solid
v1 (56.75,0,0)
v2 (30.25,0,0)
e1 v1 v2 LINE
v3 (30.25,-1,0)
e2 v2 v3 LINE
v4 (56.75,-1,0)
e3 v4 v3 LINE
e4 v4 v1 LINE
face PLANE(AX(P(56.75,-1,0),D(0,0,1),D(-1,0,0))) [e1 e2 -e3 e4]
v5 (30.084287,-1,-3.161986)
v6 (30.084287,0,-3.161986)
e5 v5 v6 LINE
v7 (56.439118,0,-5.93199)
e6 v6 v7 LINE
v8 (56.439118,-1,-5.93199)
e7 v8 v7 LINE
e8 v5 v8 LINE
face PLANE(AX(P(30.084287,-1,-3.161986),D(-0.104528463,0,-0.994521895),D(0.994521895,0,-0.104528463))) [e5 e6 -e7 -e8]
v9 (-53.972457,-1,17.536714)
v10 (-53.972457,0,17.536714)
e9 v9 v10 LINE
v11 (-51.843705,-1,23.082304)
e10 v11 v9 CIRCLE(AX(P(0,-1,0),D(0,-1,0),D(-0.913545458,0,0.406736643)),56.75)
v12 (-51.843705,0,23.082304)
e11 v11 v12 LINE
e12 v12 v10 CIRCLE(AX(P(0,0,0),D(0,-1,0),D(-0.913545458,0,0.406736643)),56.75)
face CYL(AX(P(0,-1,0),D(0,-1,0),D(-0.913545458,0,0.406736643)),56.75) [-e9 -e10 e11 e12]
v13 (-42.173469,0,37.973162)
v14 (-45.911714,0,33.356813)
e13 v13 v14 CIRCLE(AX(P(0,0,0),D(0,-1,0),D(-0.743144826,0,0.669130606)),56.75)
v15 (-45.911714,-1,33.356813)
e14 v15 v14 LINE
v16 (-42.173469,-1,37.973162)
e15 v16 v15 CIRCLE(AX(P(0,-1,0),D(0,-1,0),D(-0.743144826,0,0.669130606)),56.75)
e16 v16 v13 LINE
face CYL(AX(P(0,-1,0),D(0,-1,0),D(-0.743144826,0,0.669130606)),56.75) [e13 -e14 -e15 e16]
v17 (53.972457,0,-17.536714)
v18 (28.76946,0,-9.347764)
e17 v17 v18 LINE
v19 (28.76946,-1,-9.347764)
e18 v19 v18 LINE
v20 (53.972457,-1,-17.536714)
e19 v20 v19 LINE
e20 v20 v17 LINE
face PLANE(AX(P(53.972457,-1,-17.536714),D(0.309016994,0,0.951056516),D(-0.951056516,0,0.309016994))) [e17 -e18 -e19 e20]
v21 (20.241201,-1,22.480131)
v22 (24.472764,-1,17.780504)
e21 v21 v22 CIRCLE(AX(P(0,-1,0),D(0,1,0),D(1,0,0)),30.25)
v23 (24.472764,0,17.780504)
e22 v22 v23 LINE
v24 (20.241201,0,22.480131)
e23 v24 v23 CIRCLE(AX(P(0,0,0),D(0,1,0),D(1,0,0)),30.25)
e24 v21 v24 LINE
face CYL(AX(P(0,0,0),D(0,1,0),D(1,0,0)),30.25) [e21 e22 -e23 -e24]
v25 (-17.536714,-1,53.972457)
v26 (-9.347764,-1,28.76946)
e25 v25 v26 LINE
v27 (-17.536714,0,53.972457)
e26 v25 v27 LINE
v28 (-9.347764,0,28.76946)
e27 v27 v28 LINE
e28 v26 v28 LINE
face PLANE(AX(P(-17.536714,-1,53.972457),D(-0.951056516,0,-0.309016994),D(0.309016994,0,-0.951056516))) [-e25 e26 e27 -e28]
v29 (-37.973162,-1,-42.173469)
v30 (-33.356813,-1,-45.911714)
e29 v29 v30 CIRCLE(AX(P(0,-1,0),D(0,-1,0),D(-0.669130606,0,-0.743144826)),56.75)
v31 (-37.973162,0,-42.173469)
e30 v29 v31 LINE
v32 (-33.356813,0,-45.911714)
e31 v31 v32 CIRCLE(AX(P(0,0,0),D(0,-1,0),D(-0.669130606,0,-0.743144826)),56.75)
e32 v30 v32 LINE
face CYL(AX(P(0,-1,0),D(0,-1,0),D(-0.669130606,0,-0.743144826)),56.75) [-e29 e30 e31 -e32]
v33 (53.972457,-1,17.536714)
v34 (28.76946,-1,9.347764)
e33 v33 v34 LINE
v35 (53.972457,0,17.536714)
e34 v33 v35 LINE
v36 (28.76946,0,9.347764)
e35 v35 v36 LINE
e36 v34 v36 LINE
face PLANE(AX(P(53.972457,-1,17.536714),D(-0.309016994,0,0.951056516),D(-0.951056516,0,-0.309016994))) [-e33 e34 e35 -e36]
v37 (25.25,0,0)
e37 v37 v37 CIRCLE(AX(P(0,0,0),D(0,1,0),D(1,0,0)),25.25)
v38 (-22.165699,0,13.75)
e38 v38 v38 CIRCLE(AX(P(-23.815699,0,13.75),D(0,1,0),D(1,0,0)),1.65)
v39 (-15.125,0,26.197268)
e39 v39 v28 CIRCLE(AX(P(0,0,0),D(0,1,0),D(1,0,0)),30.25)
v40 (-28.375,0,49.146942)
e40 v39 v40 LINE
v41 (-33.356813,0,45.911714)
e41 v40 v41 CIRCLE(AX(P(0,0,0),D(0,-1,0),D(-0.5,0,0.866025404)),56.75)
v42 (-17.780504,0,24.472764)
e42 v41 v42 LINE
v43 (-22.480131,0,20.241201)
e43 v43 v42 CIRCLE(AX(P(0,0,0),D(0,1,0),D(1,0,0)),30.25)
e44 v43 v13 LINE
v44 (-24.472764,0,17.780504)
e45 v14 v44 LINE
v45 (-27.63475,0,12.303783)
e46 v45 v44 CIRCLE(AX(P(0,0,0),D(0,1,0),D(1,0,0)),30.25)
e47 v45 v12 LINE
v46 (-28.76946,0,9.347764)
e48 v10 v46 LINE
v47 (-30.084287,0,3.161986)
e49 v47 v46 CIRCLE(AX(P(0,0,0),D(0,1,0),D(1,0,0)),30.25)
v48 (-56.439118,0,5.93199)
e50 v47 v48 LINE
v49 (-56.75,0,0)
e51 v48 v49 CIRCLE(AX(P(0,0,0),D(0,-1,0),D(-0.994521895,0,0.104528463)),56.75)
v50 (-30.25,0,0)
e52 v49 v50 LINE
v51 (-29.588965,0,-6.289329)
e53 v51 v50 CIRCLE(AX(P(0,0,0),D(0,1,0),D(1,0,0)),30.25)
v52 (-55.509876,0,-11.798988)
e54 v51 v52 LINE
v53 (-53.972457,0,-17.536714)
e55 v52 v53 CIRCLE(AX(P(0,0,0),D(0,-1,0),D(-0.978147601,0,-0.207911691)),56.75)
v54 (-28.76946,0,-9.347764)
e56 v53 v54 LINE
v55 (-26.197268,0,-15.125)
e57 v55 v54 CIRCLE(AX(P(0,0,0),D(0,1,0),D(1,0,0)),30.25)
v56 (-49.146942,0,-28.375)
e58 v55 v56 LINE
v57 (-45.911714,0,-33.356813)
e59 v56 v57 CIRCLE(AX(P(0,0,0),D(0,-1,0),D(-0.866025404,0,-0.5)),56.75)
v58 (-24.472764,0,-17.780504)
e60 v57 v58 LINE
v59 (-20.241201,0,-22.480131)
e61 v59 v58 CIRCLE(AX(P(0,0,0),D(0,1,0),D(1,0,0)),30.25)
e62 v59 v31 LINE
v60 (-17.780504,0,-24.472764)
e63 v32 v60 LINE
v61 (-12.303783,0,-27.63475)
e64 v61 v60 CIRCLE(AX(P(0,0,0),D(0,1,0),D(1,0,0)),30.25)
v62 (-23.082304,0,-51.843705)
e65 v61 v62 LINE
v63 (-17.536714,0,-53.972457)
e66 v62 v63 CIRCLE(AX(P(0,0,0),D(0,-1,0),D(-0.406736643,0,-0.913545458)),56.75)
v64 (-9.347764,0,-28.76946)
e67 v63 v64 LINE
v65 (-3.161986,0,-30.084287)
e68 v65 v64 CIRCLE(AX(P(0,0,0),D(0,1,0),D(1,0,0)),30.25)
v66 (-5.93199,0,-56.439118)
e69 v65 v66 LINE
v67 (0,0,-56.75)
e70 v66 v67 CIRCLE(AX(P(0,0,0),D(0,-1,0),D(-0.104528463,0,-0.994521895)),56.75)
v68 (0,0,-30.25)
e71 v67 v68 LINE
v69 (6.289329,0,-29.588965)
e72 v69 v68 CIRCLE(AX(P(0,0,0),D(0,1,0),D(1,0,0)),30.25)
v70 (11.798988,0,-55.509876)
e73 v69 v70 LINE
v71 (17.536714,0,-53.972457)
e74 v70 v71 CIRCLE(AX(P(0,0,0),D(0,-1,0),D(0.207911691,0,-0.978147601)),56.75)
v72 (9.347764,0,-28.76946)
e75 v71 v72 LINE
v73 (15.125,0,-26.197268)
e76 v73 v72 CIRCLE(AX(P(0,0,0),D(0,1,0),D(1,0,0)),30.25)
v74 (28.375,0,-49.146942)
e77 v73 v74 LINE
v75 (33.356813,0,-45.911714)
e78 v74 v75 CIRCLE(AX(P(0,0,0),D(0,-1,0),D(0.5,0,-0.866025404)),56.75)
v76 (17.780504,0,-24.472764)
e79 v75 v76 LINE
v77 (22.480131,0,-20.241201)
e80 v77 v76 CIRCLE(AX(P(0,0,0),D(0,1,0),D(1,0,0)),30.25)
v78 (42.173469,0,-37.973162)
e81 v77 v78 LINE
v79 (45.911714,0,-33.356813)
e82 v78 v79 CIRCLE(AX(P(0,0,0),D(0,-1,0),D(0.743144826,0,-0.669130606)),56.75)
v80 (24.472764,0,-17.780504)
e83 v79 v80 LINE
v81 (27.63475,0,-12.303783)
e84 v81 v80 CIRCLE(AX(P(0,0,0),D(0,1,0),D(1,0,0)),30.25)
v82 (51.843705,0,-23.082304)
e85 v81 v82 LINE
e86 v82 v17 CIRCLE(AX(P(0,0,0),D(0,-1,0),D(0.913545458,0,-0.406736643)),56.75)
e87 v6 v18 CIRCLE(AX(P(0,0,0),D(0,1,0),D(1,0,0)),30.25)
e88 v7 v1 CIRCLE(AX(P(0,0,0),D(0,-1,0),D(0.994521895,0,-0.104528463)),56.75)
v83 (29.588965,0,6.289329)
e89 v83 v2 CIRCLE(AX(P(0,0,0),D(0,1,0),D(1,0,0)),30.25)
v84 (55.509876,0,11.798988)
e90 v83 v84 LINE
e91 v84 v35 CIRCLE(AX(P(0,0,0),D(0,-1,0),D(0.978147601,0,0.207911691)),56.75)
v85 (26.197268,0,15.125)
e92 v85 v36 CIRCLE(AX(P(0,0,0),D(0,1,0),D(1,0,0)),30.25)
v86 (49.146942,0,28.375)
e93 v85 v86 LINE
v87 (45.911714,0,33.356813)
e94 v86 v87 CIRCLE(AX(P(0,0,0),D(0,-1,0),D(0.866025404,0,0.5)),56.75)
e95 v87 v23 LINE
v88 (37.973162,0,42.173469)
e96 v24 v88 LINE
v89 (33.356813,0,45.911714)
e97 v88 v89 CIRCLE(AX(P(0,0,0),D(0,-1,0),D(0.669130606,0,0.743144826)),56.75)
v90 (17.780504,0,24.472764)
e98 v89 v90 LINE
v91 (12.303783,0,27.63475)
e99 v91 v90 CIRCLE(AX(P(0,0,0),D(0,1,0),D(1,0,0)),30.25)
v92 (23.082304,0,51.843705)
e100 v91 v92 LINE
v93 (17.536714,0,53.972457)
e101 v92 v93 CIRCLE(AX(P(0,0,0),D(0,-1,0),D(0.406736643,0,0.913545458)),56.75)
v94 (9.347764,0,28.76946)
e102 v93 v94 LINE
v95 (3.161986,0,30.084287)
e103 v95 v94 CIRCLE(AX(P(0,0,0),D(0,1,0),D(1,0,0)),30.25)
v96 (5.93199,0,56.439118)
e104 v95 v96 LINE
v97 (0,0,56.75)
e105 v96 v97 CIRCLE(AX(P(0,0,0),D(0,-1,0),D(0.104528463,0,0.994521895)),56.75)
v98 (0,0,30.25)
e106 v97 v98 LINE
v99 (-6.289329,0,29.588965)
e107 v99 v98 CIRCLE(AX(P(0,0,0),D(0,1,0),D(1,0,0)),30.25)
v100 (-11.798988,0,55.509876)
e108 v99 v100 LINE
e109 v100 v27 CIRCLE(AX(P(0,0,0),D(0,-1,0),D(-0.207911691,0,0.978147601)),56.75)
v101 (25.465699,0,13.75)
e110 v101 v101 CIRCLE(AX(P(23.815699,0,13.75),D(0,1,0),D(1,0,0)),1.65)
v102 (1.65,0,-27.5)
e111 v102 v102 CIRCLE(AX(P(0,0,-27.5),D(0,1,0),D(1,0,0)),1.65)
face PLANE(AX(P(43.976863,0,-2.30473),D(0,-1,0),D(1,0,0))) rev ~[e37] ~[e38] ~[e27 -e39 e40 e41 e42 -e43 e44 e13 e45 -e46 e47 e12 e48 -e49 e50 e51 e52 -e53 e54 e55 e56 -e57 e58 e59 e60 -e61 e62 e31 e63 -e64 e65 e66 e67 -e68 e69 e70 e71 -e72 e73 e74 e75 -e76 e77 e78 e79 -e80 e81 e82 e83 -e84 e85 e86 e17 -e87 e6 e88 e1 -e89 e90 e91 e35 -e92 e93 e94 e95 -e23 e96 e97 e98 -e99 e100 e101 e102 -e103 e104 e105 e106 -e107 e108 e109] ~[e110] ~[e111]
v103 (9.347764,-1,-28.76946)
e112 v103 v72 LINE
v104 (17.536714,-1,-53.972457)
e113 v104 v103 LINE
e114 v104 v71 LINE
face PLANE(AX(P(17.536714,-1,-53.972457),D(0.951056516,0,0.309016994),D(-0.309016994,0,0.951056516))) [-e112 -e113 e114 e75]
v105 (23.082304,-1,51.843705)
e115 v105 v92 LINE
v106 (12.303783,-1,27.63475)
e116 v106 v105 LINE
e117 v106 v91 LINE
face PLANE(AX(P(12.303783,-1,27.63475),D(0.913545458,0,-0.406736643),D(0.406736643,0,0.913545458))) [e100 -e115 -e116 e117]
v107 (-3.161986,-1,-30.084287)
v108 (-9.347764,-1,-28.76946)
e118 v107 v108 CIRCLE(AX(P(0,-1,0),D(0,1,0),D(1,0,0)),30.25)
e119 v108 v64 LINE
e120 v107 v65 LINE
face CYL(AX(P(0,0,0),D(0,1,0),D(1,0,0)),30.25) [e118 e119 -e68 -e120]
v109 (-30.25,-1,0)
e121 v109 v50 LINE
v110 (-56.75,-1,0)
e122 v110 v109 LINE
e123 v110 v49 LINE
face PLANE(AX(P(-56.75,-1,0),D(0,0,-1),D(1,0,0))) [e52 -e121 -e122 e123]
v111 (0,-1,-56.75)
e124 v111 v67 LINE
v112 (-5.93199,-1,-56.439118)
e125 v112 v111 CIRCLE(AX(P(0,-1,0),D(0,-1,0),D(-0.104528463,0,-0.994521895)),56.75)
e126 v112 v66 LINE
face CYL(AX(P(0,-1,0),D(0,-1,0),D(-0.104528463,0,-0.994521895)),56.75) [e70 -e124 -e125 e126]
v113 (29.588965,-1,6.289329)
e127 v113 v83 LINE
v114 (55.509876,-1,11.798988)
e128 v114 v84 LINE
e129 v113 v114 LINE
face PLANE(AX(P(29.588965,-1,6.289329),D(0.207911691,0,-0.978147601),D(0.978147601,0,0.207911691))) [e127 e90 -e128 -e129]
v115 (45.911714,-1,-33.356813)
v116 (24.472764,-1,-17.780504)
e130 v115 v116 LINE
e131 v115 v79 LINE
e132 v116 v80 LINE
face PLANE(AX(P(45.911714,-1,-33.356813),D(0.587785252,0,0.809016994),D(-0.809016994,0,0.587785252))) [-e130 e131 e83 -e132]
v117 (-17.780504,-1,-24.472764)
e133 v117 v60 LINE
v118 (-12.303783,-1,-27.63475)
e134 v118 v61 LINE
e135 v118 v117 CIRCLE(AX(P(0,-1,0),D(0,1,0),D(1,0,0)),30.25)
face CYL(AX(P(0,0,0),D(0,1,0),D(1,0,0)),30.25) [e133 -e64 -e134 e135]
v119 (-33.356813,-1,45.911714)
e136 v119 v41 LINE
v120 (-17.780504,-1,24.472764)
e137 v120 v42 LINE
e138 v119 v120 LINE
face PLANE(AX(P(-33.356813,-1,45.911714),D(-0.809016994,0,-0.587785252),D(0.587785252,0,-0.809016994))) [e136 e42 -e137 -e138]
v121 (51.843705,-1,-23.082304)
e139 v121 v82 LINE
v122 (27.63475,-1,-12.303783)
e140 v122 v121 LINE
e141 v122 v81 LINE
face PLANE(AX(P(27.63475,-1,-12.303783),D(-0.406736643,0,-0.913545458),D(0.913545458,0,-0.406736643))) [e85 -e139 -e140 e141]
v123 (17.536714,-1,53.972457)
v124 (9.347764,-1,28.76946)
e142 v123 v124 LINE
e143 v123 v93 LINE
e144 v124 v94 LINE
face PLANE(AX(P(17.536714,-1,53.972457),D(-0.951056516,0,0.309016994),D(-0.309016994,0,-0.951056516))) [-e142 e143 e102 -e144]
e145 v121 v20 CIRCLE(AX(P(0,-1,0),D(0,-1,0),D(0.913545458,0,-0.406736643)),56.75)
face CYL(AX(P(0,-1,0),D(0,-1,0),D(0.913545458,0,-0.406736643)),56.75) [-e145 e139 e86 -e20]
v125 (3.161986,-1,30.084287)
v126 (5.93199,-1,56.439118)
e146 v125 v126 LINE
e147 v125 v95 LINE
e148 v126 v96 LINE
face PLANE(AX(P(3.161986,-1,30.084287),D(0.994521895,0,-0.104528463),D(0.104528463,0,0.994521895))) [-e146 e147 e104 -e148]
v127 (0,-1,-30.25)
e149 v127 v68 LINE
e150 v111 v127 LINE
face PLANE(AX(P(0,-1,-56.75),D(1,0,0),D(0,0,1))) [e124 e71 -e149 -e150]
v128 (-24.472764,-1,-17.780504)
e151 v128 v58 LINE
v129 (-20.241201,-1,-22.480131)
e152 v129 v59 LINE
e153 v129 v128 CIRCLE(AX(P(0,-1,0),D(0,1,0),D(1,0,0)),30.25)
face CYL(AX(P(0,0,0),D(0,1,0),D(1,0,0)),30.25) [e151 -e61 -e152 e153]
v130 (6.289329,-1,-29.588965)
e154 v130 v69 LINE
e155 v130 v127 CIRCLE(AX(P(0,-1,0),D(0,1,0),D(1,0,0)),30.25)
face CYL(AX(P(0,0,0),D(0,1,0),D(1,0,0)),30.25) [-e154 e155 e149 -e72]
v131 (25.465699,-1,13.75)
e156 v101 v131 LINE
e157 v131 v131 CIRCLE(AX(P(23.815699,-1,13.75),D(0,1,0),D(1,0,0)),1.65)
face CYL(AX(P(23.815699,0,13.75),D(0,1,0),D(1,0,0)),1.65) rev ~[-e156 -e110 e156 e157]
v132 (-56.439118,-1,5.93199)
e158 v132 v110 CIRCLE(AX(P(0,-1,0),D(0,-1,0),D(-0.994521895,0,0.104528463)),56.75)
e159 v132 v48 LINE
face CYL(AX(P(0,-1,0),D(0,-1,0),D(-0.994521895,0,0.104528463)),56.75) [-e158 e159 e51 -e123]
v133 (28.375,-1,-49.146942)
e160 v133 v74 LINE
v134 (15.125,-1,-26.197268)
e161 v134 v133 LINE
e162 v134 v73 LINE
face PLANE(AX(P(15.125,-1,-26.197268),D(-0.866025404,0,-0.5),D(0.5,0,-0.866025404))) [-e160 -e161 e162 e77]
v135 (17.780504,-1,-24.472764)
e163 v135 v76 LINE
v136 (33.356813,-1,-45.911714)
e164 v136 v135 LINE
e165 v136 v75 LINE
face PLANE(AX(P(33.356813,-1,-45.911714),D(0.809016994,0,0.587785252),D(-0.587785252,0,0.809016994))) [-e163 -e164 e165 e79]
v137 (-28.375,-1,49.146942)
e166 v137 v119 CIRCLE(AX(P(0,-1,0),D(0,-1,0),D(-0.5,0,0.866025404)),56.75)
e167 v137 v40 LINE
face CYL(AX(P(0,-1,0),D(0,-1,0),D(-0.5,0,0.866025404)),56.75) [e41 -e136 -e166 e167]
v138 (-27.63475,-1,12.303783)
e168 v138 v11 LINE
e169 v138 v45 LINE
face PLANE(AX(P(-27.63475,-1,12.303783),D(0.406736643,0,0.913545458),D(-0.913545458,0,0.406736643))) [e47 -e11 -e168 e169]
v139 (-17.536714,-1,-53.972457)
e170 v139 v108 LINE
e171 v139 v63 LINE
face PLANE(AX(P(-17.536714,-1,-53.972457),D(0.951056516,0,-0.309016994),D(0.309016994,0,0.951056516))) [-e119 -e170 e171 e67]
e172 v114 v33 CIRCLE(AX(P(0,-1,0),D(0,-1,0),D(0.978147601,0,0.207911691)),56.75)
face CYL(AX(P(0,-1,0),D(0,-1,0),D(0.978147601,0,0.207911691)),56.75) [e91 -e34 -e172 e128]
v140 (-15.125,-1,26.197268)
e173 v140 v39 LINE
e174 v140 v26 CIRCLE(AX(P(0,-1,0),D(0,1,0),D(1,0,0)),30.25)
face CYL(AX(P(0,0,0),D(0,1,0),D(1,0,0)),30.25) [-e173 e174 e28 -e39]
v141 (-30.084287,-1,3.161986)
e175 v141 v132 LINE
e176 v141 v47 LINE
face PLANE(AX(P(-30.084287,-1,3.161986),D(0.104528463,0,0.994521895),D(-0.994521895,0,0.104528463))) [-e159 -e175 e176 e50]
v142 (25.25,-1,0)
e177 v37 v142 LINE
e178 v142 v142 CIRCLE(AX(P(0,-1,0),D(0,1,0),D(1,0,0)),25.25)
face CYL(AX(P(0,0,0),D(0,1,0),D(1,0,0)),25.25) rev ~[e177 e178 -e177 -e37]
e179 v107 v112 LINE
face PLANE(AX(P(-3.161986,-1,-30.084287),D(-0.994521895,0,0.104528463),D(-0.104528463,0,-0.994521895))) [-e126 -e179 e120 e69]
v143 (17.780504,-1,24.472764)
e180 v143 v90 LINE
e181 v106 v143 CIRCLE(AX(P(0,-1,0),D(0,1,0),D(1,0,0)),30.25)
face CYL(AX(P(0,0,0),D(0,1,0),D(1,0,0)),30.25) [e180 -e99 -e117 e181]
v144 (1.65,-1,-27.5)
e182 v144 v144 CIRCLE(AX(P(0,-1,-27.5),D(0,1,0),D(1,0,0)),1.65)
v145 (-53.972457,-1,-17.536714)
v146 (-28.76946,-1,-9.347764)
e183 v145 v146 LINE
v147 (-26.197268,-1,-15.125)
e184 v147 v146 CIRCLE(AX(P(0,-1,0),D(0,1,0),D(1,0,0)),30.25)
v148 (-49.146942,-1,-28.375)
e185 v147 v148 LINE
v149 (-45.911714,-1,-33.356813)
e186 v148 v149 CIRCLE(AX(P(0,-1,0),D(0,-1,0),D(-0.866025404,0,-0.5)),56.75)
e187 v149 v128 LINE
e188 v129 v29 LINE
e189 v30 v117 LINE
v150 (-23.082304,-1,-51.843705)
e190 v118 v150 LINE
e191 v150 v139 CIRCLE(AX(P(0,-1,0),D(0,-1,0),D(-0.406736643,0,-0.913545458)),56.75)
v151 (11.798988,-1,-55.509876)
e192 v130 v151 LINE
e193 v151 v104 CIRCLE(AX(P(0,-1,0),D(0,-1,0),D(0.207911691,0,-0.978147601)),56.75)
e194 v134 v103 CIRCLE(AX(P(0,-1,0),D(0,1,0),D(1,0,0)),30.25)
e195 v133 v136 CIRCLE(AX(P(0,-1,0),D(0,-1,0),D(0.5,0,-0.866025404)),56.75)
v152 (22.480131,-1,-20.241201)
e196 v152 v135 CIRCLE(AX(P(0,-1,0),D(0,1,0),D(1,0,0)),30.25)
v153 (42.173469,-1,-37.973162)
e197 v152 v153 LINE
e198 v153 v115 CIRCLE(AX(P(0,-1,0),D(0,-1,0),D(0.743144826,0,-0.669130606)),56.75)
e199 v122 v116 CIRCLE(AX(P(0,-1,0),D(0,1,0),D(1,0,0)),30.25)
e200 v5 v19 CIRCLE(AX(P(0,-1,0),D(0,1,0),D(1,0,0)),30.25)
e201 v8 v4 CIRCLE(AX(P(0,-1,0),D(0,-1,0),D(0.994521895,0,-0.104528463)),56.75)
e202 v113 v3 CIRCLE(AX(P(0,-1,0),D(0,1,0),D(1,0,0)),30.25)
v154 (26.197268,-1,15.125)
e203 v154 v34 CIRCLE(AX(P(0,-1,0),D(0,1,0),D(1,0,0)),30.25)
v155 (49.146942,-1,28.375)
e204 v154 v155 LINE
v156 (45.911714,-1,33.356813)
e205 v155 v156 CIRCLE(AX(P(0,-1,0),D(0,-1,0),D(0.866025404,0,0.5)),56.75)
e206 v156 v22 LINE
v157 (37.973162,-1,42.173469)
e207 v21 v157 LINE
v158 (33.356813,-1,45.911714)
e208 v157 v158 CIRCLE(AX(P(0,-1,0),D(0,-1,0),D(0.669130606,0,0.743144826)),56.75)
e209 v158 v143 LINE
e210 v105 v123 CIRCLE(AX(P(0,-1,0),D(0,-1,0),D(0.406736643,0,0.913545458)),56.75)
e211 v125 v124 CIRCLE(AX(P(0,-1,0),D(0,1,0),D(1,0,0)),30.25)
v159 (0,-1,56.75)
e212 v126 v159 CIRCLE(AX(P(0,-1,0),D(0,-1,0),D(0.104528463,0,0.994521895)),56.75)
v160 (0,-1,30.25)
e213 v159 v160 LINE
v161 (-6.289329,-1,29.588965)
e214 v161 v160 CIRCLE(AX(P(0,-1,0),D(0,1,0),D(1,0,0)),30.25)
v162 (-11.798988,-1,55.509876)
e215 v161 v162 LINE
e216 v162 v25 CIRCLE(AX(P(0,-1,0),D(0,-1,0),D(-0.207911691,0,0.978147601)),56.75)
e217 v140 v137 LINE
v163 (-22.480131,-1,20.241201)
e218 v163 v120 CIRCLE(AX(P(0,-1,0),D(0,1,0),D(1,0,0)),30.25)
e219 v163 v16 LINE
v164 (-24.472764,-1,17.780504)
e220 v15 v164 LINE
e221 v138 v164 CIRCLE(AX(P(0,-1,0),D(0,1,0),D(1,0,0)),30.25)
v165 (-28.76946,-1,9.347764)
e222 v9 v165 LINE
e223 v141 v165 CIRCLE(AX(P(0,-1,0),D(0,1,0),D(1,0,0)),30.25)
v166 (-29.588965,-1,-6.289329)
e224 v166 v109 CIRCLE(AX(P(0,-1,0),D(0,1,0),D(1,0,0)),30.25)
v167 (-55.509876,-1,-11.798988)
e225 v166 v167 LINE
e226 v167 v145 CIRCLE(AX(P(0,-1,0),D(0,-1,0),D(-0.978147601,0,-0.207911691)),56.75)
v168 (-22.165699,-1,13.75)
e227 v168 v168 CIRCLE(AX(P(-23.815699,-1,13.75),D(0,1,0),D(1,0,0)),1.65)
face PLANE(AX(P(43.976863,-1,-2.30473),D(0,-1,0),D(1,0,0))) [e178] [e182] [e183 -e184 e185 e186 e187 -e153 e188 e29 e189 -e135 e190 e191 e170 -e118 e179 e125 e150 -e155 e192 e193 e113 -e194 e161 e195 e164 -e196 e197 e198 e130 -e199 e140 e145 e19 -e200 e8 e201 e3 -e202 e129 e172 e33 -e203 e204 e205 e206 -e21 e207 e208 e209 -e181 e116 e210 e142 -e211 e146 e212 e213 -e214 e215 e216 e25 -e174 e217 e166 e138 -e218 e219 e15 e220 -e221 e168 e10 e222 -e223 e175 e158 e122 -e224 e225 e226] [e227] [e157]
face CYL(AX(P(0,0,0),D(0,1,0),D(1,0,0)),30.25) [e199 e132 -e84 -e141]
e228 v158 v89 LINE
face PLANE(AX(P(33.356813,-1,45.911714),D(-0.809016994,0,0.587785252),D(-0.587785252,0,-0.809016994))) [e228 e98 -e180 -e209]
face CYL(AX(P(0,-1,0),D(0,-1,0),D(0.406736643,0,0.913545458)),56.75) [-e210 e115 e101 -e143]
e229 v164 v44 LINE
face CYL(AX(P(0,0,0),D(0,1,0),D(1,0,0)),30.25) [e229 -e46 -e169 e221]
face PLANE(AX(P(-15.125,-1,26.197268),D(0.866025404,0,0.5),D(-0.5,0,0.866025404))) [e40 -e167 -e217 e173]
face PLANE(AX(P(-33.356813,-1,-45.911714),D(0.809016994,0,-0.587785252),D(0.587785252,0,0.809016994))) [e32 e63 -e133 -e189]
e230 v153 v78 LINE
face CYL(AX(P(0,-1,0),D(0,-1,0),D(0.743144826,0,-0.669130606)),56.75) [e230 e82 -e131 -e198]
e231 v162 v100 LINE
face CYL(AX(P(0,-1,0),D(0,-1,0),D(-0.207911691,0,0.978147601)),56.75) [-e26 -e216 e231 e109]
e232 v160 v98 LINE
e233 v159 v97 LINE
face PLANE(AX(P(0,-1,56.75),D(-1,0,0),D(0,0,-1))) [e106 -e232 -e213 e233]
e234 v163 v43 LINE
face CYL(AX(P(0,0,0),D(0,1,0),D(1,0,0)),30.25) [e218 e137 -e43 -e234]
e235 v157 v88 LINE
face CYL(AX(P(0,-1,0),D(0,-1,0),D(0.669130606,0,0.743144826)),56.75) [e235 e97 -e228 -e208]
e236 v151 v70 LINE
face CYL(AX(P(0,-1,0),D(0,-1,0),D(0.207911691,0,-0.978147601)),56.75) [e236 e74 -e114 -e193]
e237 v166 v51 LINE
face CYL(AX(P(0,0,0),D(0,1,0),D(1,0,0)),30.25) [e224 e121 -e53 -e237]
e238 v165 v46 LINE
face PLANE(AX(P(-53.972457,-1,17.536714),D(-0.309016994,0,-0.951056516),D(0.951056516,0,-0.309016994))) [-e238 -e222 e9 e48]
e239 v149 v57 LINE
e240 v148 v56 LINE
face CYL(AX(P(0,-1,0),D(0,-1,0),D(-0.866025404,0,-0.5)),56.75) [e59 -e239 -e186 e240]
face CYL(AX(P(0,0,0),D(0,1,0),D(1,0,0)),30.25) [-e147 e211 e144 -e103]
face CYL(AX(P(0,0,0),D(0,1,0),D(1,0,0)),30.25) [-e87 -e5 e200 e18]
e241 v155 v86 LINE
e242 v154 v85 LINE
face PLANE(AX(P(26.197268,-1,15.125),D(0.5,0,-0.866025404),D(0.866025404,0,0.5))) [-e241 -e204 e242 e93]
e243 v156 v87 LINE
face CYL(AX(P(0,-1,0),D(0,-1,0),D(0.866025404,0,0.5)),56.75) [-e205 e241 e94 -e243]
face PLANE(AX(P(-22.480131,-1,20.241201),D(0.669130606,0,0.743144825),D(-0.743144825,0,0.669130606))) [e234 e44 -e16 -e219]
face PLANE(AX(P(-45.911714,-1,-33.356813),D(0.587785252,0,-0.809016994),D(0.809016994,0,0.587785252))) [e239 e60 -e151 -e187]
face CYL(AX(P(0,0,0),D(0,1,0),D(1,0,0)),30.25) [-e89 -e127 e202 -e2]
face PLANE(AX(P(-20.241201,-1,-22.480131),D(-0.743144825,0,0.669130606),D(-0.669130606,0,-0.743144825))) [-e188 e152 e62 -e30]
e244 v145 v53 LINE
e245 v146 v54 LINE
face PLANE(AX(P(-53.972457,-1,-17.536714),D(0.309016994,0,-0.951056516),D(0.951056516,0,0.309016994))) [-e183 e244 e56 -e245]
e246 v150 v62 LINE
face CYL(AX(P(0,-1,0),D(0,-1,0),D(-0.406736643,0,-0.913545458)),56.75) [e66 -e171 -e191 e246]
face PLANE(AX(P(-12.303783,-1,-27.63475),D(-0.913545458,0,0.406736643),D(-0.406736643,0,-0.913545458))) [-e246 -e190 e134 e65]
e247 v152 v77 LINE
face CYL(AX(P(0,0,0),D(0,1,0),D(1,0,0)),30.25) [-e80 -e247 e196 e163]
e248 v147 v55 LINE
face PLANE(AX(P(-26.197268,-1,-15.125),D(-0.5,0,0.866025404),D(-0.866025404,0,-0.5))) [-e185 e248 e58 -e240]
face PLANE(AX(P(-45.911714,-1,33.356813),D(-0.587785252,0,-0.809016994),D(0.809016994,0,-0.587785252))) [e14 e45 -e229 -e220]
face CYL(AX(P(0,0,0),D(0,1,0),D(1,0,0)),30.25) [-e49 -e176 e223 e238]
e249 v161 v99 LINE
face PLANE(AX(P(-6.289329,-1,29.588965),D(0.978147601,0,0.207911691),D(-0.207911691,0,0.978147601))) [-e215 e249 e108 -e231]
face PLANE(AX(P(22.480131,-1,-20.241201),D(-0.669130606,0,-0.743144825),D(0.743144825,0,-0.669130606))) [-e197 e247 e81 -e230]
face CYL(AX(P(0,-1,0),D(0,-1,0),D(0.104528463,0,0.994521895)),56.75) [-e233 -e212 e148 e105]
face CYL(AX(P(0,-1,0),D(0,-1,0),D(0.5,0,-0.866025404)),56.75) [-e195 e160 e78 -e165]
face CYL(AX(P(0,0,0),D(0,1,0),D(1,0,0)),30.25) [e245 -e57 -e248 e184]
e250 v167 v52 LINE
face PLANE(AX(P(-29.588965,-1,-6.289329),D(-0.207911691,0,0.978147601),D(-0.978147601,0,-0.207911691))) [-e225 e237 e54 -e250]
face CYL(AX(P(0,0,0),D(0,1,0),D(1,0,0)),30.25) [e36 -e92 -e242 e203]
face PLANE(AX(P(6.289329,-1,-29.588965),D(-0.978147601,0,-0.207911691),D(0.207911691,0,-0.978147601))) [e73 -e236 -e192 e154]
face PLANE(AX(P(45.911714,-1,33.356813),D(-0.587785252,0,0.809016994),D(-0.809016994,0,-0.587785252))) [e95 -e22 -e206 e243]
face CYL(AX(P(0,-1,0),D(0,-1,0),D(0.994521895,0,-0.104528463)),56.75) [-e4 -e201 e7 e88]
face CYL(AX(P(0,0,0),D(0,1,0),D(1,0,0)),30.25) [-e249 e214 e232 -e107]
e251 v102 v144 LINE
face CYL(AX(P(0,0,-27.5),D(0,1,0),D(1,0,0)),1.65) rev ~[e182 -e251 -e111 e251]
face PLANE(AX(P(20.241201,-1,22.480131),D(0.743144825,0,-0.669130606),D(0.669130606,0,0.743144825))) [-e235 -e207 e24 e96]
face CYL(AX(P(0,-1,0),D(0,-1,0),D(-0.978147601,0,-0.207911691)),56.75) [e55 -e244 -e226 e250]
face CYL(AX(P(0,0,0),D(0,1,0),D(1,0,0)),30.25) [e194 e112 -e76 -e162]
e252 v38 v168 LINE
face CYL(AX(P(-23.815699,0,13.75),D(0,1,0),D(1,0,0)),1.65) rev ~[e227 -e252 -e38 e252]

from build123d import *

# Parameters (mm, degrees)
SKETCH1_R           = 30.25
SKETCH1_R_2         = 25.25
EXTRUDE_THIN1_DEPTH = 1
SKETCH2_R           = 1.65
CUT_EXTRUDE3_DEPTH  = 10
BOSS_EXTRUDE1_DEPTH = 1


with BuildPart() as part:
    # Sketch1 → Extrude-Thin1 (new body)
    with BuildSketch(Plane(origin=(0, 0, 0), x_dir=(1, 0, 0), z_dir=(0, 1, 0))):
        Circle(SKETCH1_R)
        Circle(SKETCH1_R_2, mode=Mode.SUBTRACT)
    extrude(amount=-EXTRUDE_THIN1_DEPTH)

    # Sketch2 → Cut-Extrude3 (cut)
    with BuildSketch(Plane(origin=(0, 0, 0), x_dir=(1, 0, 0), z_dir=(0, 1, 0))):
        with Locations((0, 27.5)):
            Circle(SKETCH2_R)
        with Locations((23.815698604, -13.75)):
            Circle(SKETCH2_R)
        with Locations((-23.815698604, -13.75)):
            Circle(SKETCH2_R)
    extrude(amount=-CUT_EXTRUDE3_DEPTH, mode=Mode.SUBTRACT)

    # Sketch5 → Boss-Extrude1 (add)
    with BuildSketch(Plane.XZ.offset(1)):
        with BuildLine():
            Line((0, 56.75), (0, 30.25))
            ThreePointArc((0, 30.25), (1.583162676, 30.208543426), (3.161986014, 30.084287335))
            Line((3.161986014, 30.084287335), (5.93199029, 56.439117562))
            ThreePointArc((5.93199029, 56.439117562), (2.970065517, 56.672226097), (0, 56.75))
        make_face()
        with BuildLine():
            Line((17.536714431, 53.9724573), (9.34776408, 28.769459618))
            ThreePointArc((9.34776408, 28.769459618), (10.840630474, 28.240807902), (12.303783453, 27.634750094))
            Line((12.303783453, 27.634750094), (23.082304495, 51.843704721))
            ThreePointArc((23.082304495, 51.843704721), (20.337381137, 52.980689204), (17.536714431, 53.9724573))
        make_face()
        with BuildLine():
            Line((33.356813068, 45.911714431), (17.780503882, 24.47276408))
            ThreePointArc((17.780503882, 24.47276408), (19.036941829, 23.508665334), (20.241200842, 22.480130971))
            Line((20.241200842, 22.480130971), (37.973161911, 42.173468846))
            ThreePointArc((37.973161911, 42.173468846), (35.713932192, 44.103033313), (33.356813068, 45.911714431))
        make_face()
        with BuildLine():
            Line((45.911714431, 33.356813068), (24.47276408, 17.780503882))
            ThreePointArc((24.47276408, 17.780503882), (25.36978468, 16.475330809), (26.197268464, 15.125))
            Line((26.197268464, 15.125), (49.146941665, 28.375))
            ThreePointArc((49.146941665, 28.375), (47.594554731, 30.908265237), (45.911714431, 33.356813068))
        make_face()
        with BuildLine():
            Line((53.9724573, 17.536714431), (28.769459618, 9.34776408))
            ThreePointArc((28.769459618, 9.34776408), (29.219256245, 7.829276114), (29.588964922, 6.289328647))
            Line((29.588964922, 6.289328647), (55.509876342, 11.798988454))
            ThreePointArc((55.509876342, 11.798988454), (54.816290642, 14.68798081), (53.9724573, 17.536714431))
        make_face()
        with BuildLine():
            Line((56.75, 0), (30.25, 0))
            ThreePointArc((30.25, 0), (30.208543426, -1.583162676), (30.084287335, -3.161986014))
            Line((30.084287335, -3.161986014), (56.439117562, -5.93199029))
            ThreePointArc((56.439117562, -5.93199029), (56.672226097, -2.970065517), (56.75, 0))
        make_face()
        with BuildLine():
            Line((53.9724573, -17.536714431), (28.769459618, -9.34776408))
            ThreePointArc((28.769459618, -9.34776408), (28.240807902, -10.840630474), (27.634750094, -12.303783453))
            Line((27.634750094, -12.303783453), (51.843704721, -23.082304495))
            ThreePointArc((51.843704721, -23.082304495), (52.980689204, -20.337381137), (53.9724573, -17.536714431))
        make_face()
        with BuildLine():
            Line((45.911714431, -33.356813068), (24.47276408, -17.780503882))
            ThreePointArc((24.47276408, -17.780503882), (23.508665334, -19.036941829), (22.480130971, -20.241200842))
            Line((22.480130971, -20.241200842), (42.173468846, -37.973161911))
            ThreePointArc((42.173468846, -37.973161911), (44.103033313, -35.713932192), (45.911714431, -33.356813068))
        make_face()
        with BuildLine():
            Line((33.356813068, -45.911714431), (17.780503882, -24.47276408))
            ThreePointArc((17.780503882, -24.47276408), (16.475330809, -25.36978468), (15.125, -26.197268464))
            Line((15.125, -26.197268464), (28.375, -49.146941665))
            ThreePointArc((28.375, -49.146941665), (30.908265237, -47.594554731), (33.356813068, -45.911714431))
        make_face()
        with BuildLine():
            Line((17.536714431, -53.9724573), (9.34776408, -28.769459618))
            ThreePointArc((9.34776408, -28.769459618), (7.829276114, -29.219256245), (6.289328647, -29.588964922))
            Line((6.289328647, -29.588964922), (11.798988454, -55.509876342))
            ThreePointArc((11.798988454, -55.509876342), (14.68798081, -54.816290642), (17.536714431, -53.9724573))
        make_face()
        with BuildLine():
            Line((0, -56.75), (0, -30.25))
            ThreePointArc((0, -30.25), (-1.583162676, -30.208543426), (-3.161986014, -30.084287335))
            Line((-3.161986014, -30.084287335), (-5.93199029, -56.439117562))
            ThreePointArc((-5.93199029, -56.439117562), (-2.970065517, -56.672226097), (0, -56.75))
        make_face()
        with BuildLine():
            Line((-17.536714431, -53.9724573), (-9.34776408, -28.769459618))
            ThreePointArc((-9.34776408, -28.769459618), (-10.840630474, -28.240807902), (-12.303783453, -27.634750094))
            Line((-12.303783453, -27.634750094), (-23.082304495, -51.843704721))
            ThreePointArc((-23.082304495, -51.843704721), (-20.337381137, -52.980689204), (-17.536714431, -53.9724573))
        make_face()
        with BuildLine():
            Line((-33.356813068, -45.911714431), (-17.780503882, -24.47276408))
            ThreePointArc((-17.780503882, -24.47276408), (-19.036941829, -23.508665334), (-20.241200842, -22.480130971))
            Line((-20.241200842, -22.480130971), (-37.973161911, -42.173468846))
            ThreePointArc((-37.973161911, -42.173468846), (-35.713932192, -44.103033313), (-33.356813068, -45.911714431))
        make_face()
        with BuildLine():
            Line((-45.911714431, -33.356813068), (-24.47276408, -17.780503882))
            ThreePointArc((-24.47276408, -17.780503882), (-25.36978468, -16.475330809), (-26.197268464, -15.125))
            Line((-26.197268464, -15.125), (-49.146941665, -28.375))
            ThreePointArc((-49.146941665, -28.375), (-47.594554731, -30.908265237), (-45.911714431, -33.356813068))
        make_face()
        with BuildLine():
            Line((-53.9724573, -17.536714431), (-28.769459618, -9.34776408))
            ThreePointArc((-28.769459618, -9.34776408), (-29.219256245, -7.829276114), (-29.588964922, -6.289328647))
            Line((-29.588964922, -6.289328647), (-55.509876342, -11.798988454))
            ThreePointArc((-55.509876342, -11.798988454), (-54.816290642, -14.68798081), (-53.9724573, -17.536714431))
        make_face()
        with BuildLine():
            Line((-56.75, 0), (-30.25, 0))
            ThreePointArc((-30.25, 0), (-30.208543426, 1.583162676), (-30.084287335, 3.161986014))
            Line((-30.084287335, 3.161986014), (-56.439117562, 5.93199029))
            ThreePointArc((-56.439117562, 5.93199029), (-56.672226097, 2.970065517), (-56.75, 0))
        make_face()
        with BuildLine():
            Line((-53.9724573, 17.536714431), (-28.769459618, 9.34776408))
            ThreePointArc((-28.769459618, 9.34776408), (-28.240807902, 10.840630474), (-27.634750094, 12.303783453))
            Line((-27.634750094, 12.303783453), (-51.843704721, 23.082304495))
            ThreePointArc((-51.843704721, 23.082304495), (-52.980689204, 20.337381137), (-53.9724573, 17.536714431))
        make_face()
        with BuildLine():
            Line((-45.911714431, 33.356813068), (-24.47276408, 17.780503882))
            ThreePointArc((-24.47276408, 17.780503882), (-23.508665334, 19.036941829), (-22.480130971, 20.241200842))
            Line((-22.480130971, 20.241200842), (-42.173468846, 37.973161911))
            ThreePointArc((-42.173468846, 37.973161911), (-44.103033313, 35.713932192), (-45.911714431, 33.356813068))
        make_face()
        with BuildLine():
            Line((-33.356813068, 45.911714431), (-17.780503882, 24.47276408))
            ThreePointArc((-17.780503882, 24.47276408), (-16.475330809, 25.36978468), (-15.125, 26.197268464))
            Line((-15.125, 26.197268464), (-28.375, 49.146941665))
            ThreePointArc((-28.375, 49.146941665), (-30.908265237, 47.594554731), (-33.356813068, 45.911714431))
        make_face()
        with BuildLine():
            Line((-17.536714431, 53.9724573), (-9.34776408, 28.769459618))
            ThreePointArc((-9.34776408, 28.769459618), (-7.829276114, 29.219256245), (-6.289328647, 29.588964922))
            Line((-6.289328647, 29.588964922), (-11.798988454, 55.509876342))
            ThreePointArc((-11.798988454, 55.509876342), (-14.68798081, 54.816290642), (-17.536714431, 53.9724573))
        make_face()
    extrude(amount=-BOSS_EXTRUDE1_DEPTH)


solid = part.part
